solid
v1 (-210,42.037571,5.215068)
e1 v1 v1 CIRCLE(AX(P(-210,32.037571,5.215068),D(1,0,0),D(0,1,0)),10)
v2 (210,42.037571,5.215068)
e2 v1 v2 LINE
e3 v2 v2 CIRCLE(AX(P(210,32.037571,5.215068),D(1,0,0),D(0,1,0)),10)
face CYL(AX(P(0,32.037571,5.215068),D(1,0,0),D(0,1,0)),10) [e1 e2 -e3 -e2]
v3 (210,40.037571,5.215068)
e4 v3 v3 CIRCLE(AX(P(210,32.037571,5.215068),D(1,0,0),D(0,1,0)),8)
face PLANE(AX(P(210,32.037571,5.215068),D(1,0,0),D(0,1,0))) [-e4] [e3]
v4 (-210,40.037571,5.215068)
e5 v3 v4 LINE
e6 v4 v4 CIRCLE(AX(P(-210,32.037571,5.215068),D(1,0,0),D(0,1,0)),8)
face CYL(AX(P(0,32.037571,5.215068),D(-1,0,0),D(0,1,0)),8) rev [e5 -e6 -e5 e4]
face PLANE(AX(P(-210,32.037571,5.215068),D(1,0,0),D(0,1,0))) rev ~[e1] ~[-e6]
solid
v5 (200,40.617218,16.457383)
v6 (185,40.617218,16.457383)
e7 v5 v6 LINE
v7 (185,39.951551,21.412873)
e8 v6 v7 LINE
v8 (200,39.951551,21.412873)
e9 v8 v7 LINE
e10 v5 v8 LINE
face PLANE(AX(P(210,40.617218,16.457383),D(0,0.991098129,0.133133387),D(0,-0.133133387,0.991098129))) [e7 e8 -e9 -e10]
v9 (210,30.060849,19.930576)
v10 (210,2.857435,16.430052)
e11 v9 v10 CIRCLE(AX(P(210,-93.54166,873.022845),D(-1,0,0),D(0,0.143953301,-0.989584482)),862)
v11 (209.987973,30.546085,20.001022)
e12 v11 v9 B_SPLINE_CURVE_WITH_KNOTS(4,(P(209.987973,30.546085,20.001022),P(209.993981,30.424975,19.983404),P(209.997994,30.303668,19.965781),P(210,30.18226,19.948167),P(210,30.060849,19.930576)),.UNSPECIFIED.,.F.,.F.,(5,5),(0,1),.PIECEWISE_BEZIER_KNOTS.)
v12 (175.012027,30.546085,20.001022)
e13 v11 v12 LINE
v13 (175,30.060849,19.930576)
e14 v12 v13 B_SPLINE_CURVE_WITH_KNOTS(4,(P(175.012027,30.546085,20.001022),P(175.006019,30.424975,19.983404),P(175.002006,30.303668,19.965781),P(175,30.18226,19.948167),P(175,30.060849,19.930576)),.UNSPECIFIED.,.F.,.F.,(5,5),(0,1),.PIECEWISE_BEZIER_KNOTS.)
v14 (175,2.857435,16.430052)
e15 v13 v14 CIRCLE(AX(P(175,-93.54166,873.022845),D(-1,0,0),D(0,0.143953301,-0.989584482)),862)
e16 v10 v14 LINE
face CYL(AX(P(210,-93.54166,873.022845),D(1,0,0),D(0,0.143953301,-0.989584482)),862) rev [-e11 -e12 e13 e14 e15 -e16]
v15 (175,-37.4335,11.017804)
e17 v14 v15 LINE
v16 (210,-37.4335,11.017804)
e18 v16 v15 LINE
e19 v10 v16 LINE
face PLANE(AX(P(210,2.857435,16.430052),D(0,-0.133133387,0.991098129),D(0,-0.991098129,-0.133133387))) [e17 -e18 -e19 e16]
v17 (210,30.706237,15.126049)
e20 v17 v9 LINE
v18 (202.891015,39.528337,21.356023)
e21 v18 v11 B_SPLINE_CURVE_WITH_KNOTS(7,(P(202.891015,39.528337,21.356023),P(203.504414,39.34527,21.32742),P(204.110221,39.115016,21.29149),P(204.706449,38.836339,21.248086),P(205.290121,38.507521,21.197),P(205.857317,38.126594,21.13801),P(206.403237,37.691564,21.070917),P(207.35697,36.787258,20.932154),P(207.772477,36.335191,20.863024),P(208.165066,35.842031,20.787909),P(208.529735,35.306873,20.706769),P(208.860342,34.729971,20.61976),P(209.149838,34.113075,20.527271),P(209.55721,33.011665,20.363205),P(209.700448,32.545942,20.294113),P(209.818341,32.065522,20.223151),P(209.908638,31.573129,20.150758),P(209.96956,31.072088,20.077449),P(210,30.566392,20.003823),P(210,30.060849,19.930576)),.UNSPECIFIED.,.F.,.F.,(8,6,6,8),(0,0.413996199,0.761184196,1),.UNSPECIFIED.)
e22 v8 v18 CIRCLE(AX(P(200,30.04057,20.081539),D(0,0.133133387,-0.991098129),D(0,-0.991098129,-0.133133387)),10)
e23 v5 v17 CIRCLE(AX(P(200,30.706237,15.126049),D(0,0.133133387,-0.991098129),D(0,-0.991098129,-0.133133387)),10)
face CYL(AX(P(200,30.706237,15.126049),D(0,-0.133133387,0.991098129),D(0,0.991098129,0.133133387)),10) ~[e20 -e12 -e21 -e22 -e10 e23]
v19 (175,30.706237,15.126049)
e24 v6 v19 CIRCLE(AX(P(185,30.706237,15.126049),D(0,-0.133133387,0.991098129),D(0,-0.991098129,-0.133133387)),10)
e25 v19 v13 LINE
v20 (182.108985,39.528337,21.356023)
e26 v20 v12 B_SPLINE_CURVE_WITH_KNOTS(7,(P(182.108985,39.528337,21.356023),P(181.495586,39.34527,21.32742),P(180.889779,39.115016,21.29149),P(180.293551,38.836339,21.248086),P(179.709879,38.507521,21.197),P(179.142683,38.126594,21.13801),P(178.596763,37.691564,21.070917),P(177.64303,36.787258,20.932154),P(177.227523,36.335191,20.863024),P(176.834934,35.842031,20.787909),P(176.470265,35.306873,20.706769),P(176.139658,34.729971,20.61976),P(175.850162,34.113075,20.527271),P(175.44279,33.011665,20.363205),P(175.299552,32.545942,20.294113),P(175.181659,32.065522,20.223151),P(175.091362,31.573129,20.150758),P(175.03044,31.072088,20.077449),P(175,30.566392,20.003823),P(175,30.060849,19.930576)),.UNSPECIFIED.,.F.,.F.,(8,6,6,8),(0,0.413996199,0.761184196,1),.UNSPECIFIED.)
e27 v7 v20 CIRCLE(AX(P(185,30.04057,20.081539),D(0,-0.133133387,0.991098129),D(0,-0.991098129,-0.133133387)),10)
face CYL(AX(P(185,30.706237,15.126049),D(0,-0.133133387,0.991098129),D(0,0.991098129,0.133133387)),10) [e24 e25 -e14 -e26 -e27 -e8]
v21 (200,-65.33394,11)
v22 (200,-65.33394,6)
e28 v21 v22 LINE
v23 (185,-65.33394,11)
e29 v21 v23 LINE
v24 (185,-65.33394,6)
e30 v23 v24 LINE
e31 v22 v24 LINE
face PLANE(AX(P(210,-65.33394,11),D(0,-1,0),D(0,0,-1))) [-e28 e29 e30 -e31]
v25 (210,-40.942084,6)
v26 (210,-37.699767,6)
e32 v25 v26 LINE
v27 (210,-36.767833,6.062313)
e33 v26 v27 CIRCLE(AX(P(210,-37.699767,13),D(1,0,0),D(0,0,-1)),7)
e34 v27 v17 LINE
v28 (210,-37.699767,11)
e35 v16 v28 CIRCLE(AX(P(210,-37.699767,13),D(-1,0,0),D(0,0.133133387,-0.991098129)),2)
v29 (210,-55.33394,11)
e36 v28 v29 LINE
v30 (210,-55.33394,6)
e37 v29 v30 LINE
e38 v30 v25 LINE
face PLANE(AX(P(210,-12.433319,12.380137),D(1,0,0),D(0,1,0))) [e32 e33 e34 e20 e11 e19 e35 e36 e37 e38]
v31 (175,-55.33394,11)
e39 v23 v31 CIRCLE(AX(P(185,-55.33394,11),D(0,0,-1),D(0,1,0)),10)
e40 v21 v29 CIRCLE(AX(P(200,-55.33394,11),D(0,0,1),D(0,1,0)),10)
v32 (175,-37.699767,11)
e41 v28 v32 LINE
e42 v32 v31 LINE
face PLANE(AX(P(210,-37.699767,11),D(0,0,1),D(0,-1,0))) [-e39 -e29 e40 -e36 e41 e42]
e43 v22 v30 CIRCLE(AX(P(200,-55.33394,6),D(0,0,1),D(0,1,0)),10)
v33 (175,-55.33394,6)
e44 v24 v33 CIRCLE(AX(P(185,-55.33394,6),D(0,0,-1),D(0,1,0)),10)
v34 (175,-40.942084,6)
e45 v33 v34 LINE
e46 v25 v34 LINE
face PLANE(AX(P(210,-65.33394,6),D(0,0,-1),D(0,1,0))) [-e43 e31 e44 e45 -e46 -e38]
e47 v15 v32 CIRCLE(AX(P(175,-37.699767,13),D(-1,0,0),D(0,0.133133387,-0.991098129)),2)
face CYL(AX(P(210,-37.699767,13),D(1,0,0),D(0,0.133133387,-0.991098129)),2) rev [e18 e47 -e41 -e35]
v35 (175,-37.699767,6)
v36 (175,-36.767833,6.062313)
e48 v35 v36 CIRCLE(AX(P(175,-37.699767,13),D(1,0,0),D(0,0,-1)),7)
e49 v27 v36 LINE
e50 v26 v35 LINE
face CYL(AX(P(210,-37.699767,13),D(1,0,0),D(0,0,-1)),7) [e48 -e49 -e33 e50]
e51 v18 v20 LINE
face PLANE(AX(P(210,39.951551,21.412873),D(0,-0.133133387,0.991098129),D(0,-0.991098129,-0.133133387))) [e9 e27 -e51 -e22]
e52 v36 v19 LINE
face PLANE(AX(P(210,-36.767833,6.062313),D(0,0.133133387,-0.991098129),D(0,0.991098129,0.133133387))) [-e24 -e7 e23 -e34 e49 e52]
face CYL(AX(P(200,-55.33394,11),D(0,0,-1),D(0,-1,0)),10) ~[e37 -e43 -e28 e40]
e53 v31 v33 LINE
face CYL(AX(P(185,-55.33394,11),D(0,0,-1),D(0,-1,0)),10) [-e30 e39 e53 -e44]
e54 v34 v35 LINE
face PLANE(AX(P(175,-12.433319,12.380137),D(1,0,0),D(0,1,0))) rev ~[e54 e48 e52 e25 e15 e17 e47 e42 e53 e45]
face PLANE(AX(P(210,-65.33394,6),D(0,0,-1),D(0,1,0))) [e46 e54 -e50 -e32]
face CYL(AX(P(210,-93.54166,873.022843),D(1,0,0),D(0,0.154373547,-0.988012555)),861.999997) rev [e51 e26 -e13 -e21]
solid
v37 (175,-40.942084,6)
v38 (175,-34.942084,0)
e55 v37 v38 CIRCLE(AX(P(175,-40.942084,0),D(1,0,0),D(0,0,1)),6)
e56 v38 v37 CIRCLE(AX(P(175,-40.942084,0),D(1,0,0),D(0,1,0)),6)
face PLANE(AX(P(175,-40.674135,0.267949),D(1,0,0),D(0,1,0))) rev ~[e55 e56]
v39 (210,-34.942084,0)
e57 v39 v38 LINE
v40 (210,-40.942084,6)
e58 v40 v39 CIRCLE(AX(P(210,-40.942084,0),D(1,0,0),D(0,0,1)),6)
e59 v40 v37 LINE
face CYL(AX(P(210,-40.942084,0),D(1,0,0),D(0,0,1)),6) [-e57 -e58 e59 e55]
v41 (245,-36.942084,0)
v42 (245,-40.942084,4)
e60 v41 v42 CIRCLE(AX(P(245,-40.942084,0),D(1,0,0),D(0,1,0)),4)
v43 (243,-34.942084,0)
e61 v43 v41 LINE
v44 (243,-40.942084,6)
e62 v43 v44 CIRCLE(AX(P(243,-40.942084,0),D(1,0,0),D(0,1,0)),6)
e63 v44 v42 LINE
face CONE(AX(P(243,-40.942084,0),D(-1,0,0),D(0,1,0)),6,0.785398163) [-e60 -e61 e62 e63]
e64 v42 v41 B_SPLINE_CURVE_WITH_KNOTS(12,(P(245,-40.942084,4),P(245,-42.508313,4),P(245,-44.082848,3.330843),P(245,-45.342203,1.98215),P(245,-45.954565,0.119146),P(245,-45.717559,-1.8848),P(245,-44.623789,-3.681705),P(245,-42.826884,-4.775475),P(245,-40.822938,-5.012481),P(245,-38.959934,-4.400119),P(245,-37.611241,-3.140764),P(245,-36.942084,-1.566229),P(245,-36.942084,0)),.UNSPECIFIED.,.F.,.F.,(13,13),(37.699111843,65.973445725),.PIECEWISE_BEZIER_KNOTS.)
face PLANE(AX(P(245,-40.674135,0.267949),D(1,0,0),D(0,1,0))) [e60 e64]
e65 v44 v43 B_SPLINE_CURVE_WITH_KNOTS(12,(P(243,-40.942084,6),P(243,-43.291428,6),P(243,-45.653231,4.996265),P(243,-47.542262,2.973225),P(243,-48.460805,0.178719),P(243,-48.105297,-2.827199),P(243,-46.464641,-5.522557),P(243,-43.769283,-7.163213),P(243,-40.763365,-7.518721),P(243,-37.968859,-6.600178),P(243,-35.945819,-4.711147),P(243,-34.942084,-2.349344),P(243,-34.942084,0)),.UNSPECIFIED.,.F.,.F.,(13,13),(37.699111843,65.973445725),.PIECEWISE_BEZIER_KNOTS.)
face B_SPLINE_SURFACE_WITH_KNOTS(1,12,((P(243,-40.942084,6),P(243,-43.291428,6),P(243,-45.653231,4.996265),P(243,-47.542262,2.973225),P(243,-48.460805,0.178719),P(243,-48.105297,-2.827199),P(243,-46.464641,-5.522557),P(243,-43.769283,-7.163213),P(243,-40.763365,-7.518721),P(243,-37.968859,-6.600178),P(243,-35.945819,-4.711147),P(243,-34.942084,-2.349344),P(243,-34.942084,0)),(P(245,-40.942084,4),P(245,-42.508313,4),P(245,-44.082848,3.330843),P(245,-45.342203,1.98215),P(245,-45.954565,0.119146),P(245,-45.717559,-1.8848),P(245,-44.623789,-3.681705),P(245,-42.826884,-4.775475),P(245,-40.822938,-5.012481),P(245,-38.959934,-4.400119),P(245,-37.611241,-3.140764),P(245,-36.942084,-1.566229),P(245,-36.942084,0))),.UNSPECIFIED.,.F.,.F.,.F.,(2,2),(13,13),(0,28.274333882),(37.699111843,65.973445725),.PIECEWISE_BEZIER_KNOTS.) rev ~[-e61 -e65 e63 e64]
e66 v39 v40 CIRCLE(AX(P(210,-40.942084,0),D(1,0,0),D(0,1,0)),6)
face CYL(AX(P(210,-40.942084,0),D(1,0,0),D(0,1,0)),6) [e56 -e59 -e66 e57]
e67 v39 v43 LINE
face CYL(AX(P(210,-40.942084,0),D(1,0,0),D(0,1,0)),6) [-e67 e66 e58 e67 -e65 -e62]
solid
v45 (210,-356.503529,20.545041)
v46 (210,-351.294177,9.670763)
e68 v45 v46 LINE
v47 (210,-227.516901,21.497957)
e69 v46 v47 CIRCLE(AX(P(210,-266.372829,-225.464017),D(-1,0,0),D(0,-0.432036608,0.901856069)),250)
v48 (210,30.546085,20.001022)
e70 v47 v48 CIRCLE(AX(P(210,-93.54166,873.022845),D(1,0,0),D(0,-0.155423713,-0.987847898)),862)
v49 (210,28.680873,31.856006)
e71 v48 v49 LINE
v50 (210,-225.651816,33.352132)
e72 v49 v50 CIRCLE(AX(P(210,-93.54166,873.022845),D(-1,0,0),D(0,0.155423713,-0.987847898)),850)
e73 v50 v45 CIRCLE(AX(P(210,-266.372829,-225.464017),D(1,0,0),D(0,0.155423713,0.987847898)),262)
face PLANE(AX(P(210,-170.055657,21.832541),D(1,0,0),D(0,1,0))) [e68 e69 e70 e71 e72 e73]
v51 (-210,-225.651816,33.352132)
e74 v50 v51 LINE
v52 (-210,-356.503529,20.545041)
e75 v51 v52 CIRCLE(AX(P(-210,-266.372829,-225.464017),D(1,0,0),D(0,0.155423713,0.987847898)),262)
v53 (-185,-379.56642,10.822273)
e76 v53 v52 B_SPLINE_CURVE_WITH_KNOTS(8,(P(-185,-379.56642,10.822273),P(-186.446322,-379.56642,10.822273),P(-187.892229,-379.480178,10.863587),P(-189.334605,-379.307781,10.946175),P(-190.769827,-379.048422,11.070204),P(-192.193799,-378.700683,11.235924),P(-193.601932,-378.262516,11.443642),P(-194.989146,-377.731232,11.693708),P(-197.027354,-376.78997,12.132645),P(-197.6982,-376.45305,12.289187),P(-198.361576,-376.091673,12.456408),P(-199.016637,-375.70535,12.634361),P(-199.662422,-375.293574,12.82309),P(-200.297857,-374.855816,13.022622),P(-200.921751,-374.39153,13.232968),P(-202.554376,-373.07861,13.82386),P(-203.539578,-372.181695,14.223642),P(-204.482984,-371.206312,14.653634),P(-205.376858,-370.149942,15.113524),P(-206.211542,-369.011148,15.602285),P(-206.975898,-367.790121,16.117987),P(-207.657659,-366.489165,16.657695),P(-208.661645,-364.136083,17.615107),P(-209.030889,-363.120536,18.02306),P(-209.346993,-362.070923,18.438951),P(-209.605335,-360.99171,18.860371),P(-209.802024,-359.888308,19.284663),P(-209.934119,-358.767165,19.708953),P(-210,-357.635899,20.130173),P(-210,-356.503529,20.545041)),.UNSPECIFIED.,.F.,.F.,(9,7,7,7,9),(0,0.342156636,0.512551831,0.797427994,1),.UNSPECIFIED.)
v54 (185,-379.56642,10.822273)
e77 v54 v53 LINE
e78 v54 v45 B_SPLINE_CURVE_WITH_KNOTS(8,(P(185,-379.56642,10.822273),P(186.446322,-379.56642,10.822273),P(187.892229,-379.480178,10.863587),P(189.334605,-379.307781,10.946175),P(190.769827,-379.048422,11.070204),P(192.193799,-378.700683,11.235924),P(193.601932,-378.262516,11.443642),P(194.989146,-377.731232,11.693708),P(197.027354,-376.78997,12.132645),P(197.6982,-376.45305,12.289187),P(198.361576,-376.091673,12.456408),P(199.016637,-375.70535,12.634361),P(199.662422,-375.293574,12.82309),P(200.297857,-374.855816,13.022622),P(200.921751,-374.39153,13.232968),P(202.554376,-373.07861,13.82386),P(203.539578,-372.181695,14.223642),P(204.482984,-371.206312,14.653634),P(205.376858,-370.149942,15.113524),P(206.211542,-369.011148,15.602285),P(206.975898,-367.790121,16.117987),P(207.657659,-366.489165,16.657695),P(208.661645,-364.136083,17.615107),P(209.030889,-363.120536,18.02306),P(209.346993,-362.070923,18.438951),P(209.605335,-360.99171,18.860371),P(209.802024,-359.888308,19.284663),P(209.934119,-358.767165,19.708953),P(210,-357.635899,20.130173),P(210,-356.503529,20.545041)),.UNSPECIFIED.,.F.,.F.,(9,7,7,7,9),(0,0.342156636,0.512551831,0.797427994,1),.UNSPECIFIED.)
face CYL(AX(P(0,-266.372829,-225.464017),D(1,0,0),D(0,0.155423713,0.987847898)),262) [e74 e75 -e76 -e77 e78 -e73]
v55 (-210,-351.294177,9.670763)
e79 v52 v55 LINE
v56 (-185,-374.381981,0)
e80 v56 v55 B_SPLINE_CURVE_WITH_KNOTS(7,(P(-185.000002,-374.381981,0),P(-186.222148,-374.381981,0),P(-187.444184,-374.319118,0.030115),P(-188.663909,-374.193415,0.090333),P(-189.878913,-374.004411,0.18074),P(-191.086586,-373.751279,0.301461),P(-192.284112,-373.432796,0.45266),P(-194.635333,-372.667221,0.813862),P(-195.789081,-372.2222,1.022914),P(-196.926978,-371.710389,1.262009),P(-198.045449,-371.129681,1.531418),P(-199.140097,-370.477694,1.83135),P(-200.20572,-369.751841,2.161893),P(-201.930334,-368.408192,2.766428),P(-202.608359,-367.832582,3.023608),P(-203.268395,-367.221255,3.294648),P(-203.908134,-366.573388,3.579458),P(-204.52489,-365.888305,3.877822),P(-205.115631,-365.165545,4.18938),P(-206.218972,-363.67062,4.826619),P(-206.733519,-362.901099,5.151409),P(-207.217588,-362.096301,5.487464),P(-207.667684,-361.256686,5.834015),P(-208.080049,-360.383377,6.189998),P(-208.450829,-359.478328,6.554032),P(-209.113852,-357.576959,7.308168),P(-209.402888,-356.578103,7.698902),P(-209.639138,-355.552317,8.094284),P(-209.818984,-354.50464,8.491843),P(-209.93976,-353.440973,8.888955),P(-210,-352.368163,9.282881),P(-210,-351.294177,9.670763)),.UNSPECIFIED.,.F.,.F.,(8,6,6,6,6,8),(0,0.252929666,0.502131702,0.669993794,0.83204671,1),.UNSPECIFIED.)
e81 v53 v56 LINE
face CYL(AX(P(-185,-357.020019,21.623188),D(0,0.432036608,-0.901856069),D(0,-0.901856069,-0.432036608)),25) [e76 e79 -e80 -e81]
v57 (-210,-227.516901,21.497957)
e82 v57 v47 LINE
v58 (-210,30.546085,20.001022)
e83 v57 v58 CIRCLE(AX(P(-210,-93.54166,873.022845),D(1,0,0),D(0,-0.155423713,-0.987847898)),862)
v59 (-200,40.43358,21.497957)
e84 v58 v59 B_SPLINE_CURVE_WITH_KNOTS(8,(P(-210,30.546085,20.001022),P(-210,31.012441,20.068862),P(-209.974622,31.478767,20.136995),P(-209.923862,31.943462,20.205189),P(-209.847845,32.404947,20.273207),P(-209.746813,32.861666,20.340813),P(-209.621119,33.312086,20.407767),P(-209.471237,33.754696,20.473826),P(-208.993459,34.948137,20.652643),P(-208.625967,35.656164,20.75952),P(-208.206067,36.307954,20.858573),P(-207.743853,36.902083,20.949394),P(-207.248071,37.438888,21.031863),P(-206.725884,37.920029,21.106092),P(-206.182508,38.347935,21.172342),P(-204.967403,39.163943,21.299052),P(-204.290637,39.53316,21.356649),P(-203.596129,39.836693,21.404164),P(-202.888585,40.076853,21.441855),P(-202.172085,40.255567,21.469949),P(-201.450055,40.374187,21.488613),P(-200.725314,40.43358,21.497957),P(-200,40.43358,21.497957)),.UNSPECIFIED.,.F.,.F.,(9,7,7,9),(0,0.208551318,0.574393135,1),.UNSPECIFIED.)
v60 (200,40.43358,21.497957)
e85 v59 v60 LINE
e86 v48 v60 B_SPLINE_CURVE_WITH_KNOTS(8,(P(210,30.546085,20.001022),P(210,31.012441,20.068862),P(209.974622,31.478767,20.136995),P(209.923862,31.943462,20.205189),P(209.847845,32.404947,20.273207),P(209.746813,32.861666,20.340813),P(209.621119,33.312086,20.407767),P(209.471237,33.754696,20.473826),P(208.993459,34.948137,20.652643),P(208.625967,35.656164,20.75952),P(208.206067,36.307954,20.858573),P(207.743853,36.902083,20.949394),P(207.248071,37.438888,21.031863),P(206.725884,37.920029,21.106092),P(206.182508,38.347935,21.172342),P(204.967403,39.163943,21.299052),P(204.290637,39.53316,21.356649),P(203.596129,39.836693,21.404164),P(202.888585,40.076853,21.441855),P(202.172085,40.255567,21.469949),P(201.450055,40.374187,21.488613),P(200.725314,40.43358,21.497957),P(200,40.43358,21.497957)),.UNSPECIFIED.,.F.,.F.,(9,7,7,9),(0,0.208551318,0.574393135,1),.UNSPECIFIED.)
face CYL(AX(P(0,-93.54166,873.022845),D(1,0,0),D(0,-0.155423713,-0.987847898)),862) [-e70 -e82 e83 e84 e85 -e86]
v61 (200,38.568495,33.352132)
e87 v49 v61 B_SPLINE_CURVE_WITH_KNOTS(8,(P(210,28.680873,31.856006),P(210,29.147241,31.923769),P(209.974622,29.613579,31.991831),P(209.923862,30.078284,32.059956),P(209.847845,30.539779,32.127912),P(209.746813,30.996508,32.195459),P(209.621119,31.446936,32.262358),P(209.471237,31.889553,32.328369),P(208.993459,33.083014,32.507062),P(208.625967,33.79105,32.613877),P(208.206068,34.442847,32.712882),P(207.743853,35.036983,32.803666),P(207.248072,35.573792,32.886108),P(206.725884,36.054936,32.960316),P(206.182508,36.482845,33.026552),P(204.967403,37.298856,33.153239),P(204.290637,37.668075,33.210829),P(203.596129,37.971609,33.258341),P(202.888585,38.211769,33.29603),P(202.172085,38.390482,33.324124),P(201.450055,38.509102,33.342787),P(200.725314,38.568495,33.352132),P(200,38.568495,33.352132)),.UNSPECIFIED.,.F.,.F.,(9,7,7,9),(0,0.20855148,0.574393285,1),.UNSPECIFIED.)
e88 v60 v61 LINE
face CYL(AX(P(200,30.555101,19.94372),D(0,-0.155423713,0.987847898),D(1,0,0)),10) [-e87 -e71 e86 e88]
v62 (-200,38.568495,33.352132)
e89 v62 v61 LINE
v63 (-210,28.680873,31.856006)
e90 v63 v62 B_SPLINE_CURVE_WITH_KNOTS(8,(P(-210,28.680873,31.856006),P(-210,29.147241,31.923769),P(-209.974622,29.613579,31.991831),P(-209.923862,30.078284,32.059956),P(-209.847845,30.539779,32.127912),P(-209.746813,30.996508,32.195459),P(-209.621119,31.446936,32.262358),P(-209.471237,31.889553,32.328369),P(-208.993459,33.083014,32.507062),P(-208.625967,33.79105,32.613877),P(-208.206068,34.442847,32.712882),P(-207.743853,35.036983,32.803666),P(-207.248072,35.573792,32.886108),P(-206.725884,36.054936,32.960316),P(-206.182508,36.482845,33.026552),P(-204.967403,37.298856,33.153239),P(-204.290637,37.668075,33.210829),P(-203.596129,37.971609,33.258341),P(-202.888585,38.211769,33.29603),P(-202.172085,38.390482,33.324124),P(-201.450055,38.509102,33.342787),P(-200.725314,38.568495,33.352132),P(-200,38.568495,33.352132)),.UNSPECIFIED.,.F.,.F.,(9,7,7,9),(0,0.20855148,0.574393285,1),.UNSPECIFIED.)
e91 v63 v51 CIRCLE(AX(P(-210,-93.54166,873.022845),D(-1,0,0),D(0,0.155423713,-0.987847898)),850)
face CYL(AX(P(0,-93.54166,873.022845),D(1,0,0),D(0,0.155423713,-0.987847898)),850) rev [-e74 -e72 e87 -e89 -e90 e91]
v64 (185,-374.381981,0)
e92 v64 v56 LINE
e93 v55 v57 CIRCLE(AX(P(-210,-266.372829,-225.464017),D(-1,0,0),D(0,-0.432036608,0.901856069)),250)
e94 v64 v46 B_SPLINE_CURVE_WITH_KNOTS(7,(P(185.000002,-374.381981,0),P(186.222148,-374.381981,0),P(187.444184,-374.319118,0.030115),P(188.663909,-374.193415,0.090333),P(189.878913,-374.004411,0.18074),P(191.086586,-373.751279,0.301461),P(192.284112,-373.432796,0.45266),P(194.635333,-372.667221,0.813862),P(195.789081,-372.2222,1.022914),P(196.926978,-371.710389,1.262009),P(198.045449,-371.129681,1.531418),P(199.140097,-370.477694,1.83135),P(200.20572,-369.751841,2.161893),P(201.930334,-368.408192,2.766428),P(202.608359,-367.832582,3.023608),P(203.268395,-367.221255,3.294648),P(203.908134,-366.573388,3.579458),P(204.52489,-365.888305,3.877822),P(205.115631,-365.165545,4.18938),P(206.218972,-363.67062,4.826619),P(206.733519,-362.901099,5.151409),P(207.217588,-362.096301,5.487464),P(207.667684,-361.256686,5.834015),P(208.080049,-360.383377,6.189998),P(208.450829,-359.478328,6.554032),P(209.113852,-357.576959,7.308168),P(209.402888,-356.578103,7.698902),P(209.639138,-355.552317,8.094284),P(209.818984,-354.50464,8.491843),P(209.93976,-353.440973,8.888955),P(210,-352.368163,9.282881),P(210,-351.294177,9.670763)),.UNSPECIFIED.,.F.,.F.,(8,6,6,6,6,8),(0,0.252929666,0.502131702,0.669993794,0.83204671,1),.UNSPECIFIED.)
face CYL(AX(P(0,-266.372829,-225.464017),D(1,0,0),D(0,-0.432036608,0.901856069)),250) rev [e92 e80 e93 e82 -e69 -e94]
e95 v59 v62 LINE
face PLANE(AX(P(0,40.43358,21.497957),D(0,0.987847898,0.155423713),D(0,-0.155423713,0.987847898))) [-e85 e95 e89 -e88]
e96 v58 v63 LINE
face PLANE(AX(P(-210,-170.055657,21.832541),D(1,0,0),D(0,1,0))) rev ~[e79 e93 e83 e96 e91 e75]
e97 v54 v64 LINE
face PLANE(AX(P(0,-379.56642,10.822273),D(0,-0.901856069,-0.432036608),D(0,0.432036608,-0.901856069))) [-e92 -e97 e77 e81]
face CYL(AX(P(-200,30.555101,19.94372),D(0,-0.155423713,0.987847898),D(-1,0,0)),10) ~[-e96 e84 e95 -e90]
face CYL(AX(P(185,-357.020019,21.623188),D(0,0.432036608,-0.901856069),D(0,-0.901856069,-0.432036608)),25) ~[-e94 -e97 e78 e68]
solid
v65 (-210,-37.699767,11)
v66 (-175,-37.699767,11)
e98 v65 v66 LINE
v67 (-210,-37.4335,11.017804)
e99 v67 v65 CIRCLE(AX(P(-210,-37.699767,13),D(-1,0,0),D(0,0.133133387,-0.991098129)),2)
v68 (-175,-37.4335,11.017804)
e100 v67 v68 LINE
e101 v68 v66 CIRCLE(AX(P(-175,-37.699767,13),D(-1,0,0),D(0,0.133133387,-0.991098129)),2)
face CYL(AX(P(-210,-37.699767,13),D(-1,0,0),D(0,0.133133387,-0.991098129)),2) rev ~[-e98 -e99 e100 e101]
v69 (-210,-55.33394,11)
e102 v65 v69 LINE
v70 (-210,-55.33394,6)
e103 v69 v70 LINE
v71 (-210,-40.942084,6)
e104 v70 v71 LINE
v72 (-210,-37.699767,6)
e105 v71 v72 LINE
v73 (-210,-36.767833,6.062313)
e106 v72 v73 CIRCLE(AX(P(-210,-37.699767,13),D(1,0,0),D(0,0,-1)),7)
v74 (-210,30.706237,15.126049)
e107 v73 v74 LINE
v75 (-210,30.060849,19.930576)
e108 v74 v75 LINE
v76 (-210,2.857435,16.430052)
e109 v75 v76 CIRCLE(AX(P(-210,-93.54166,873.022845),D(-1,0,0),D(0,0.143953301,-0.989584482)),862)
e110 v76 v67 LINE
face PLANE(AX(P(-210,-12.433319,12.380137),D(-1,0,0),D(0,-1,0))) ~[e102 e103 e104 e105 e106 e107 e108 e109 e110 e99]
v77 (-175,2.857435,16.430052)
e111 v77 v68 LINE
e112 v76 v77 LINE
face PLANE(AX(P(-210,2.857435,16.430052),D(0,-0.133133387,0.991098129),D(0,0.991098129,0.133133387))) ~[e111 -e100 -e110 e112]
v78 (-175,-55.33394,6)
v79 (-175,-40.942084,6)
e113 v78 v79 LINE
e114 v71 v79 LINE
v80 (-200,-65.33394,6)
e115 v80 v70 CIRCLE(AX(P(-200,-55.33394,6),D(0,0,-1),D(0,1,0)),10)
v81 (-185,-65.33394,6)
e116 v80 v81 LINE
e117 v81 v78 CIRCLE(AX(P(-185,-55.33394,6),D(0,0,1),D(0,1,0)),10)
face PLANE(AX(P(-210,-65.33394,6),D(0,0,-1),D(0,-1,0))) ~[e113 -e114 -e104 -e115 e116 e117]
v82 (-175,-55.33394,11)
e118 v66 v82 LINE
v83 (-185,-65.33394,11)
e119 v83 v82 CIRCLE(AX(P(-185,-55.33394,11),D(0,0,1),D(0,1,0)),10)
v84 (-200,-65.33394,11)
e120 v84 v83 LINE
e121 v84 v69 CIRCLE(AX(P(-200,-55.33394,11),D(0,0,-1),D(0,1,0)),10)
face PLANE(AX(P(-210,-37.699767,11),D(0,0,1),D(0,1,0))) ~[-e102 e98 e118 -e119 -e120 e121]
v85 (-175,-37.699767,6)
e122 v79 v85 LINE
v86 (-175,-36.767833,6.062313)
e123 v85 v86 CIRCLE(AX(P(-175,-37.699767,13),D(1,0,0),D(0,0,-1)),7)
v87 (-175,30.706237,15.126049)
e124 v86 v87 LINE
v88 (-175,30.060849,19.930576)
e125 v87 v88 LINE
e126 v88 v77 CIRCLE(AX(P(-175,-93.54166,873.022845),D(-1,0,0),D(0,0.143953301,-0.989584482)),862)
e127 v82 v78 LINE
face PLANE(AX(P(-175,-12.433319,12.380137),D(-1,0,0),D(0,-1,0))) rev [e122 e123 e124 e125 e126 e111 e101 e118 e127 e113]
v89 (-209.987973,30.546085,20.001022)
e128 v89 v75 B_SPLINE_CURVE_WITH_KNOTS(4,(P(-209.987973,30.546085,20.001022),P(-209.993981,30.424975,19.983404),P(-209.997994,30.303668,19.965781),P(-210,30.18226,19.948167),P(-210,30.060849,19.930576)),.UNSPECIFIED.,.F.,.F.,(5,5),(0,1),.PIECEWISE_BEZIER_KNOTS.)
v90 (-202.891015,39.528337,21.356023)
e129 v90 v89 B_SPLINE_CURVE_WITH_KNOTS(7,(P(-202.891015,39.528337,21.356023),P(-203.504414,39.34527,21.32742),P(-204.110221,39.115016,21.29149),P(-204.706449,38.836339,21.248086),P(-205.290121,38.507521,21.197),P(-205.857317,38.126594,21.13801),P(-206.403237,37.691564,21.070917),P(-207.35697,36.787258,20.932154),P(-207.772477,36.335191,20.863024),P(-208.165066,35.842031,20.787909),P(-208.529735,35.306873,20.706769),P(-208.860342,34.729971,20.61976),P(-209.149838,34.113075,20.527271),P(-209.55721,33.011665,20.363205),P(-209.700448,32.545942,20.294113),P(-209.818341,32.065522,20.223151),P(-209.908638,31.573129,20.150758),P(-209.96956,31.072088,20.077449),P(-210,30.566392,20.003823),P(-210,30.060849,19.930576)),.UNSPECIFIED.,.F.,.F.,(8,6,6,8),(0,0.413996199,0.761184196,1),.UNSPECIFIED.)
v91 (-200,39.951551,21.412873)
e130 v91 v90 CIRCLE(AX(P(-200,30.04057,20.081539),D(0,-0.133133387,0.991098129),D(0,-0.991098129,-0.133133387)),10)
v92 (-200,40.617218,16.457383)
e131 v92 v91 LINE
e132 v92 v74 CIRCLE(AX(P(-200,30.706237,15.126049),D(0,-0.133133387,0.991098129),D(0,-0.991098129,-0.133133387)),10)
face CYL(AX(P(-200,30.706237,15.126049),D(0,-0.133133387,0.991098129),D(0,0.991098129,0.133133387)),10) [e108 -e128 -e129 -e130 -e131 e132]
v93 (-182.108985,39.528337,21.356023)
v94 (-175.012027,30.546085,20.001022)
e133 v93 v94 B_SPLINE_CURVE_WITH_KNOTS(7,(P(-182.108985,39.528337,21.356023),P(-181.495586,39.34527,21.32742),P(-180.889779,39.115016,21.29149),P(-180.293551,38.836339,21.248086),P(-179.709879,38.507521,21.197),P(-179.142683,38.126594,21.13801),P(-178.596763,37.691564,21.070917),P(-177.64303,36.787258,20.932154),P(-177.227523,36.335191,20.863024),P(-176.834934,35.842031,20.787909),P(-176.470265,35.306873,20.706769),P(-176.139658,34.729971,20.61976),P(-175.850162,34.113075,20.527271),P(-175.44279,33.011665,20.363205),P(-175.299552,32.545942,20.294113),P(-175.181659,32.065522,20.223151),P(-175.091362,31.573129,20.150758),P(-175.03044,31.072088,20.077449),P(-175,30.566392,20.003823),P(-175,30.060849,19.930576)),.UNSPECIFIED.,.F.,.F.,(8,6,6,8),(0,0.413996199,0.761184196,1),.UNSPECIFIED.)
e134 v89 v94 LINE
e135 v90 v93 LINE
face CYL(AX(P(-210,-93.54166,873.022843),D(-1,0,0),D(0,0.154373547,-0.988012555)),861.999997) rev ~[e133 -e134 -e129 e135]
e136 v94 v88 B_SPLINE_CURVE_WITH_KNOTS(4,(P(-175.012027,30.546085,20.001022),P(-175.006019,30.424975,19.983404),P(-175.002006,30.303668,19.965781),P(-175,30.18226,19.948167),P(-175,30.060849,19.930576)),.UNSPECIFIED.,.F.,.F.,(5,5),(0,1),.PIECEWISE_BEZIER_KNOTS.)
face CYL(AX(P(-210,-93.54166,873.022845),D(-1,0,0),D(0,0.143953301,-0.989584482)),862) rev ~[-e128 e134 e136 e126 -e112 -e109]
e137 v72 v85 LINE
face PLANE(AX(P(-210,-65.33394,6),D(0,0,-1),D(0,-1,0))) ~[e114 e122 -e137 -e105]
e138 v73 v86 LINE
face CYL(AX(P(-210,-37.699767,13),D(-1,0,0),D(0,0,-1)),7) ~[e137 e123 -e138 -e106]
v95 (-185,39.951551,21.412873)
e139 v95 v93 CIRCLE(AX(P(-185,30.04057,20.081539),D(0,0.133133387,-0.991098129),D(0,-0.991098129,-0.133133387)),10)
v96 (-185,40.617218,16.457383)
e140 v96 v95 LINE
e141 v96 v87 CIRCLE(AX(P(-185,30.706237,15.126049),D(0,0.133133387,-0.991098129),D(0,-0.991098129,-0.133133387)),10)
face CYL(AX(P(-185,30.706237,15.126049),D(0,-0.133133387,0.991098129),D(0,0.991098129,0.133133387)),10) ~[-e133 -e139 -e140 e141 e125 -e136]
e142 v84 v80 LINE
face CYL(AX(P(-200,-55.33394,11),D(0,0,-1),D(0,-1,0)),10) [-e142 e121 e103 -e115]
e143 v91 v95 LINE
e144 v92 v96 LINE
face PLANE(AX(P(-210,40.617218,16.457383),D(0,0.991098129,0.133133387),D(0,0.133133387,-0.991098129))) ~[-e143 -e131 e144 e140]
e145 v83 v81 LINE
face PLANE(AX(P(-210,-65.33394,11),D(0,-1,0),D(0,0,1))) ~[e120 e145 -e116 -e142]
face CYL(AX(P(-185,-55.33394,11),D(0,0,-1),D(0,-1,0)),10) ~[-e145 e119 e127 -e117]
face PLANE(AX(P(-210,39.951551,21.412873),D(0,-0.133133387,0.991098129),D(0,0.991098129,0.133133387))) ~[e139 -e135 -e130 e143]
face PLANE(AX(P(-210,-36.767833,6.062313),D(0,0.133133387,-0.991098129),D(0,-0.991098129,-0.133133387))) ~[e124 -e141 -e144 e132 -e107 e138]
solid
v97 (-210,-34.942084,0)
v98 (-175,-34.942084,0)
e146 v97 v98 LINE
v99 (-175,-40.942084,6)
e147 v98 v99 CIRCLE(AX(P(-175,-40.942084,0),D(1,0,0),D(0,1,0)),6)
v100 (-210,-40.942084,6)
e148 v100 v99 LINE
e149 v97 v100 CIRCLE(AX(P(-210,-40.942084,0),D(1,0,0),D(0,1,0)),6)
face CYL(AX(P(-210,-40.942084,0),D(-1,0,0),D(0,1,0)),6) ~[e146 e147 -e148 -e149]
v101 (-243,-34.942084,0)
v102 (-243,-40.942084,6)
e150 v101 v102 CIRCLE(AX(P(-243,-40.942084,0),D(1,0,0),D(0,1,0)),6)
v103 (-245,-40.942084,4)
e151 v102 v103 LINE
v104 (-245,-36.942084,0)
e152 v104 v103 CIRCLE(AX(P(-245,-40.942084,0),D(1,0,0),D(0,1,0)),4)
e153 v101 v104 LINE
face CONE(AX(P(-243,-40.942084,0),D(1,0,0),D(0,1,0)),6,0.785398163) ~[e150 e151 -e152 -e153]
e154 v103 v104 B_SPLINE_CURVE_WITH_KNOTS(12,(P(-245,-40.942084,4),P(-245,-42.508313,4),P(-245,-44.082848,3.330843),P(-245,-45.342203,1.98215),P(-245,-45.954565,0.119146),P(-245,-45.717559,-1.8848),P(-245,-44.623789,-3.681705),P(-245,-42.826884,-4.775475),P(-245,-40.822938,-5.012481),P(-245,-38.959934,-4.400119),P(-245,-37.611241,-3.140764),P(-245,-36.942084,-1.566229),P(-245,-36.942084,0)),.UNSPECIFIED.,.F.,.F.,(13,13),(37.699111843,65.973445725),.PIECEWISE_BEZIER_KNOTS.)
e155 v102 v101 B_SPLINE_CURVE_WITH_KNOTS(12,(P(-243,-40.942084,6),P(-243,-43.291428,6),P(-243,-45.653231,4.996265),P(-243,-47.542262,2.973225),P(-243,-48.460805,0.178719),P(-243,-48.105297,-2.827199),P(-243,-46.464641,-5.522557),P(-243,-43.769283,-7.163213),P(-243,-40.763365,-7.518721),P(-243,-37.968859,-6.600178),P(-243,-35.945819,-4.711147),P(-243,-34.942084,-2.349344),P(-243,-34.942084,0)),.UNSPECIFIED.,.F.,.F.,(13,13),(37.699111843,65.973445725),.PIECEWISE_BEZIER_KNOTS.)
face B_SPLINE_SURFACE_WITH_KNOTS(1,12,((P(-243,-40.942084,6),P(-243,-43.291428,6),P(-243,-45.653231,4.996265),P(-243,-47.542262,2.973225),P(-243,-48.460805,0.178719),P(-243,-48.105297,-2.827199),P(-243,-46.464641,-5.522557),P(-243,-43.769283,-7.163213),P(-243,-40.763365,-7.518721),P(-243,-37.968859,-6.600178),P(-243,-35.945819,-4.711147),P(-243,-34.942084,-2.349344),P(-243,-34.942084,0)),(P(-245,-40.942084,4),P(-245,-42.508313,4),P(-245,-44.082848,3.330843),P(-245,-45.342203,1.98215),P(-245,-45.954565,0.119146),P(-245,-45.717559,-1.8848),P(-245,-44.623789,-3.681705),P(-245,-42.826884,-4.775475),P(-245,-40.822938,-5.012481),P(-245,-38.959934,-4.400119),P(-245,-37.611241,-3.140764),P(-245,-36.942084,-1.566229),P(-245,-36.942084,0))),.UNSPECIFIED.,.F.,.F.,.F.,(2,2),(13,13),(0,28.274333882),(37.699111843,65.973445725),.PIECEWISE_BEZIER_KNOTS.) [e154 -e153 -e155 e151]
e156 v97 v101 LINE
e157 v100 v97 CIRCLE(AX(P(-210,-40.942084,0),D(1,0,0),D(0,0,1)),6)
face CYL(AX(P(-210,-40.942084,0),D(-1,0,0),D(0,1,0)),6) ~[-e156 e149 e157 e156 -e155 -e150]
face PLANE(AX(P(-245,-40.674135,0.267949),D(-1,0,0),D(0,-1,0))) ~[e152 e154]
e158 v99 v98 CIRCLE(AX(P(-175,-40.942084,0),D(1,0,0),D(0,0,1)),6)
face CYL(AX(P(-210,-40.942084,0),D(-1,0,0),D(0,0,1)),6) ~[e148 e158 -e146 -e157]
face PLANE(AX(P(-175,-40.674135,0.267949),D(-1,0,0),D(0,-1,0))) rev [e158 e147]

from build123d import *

# Parameters (mm, degrees)
F1_DEPTH  = 210
F3_R      = 25
F4_R      = 10
F5_R      = 10
F5_R_2    = 8
F6_DEPTH  = 210
F8_DEPTH  = 35
F9_R      = 10
F10_DEPTH = 35
F11_SIZE  = 2


with BuildPart() as f1:
    # F0 (on Right) → F1 (new body, symmetric)
    with BuildSketch(Plane.YZ):
        with BuildLine():
            ThreePointArc((-374.3819809216, 0), (-302.5817039416, 21.8999198492), (-227.5169006722, 21.4979572801))
            ThreePointArc((-227.5169006722, 21.4979572801), (-93.5416604475, 11.0228453525), (40.4335797772, 21.4979572801))
            Line((40.4335797772, 21.4979572801), (38.5684952265, 33.352132056))
            ThreePointArc((38.5684952265, 33.352132056), (-93.5416604475, 23.0228453525), (-225.6518161215, 33.352132056))
            ThreePointArc((-225.6518161215, 33.352132056), (-304.3197299479, 33.7733888284), (-379.5664202228, 10.8222728265))
            Line((-379.5664202228, 10.8222728265), (-374.3819809216, 0))
        make_face()
    extrude(amount=F1_DEPTH, both=True)

    # F3
    f3_edges = [f1.edges().sort_by_distance(p)[0] for p in [
        (210, -376.974201, 5.411136),
        (-210, -376.974201, 5.411136),
    ]]
    fillet(f3_edges, radius=F3_R)

    # F4
    f4_edges = [f1.edges().sort_by_distance(p)[0] for p in [
        (210, 39.501038, 27.425045),
        (-210, 39.501038, 27.425045),
    ]]
    fillet(f4_edges, radius=F4_R)


with BuildPart() as f6:
    # F5 (on Right) → F6 (new body, symmetric)
    with BuildSketch(Plane.YZ):
        with Locations((32.0375707172, 5.2150675053)):
            Circle(F5_R)
        with Locations((32.0375707172, 5.2150675053)):
            Circle(F5_R_2, mode=Mode.SUBTRACT)
    extrude(amount=F6_DEPTH, both=True)


with BuildPart() as f8:
    # F7 (on face) → F8 (new body)
    with BuildSketch(Plane.YZ.offset(210)):
        with BuildLine():
            Line((40.6172181352, 16.4573826665), (39.9515511994, 21.4128733113))
            Line((39.9515511994, 21.4128733113), (39.528336846, 21.3560232793))
            ThreePointArc((39.528336846, 21.3560232793), (35.038995934, 20.6666904474), (30.5460851973, 20.0010218445))
            ThreePointArc((30.5460851973, 20.0010218445), (16.7162180368, 18.10343381), (2.8574353356, 16.4300515863))
            Line((2.8574353356, 16.4300515863), (-37.4335001414, 11.0178037421))
            ThreePointArc((-37.4335001414, 11.0178037421), (-37.5663362518, 11.0044558993), (-37.6997669157, 11))
            Line((-37.6997669157, 11), (-65.3339400887, 11))
            Line((-65.3339400887, 11), (-65.3339400887, 6))
            Line((-65.3339400887, 6), (-40.9420840442, 6))
            Line((-40.9420840442, 6), (-37.6997669157, 6))
            ThreePointArc((-37.6997669157, 6), (-37.2327595919, 6.0155956475), (-36.7678332056, 6.0623130973))
            Line((-36.7678332056, 6.0623130973), (40.6172181352, 16.4573826665))
        make_face()
    extrude(amount=-F8_DEPTH)

    # F9
    f9_edges = [f8.edges().sort_by_distance(p)[0] for p in [
        (210, -65.33394, 8.5),
        (175, -65.33394, 8.5),
        (210, 40.284385, 18.935128),
        (175, 40.284385, 18.935128),
    ]]
    fillet(f9_edges, radius=F9_R)

    # F7 (on face) → F10 (join, symmetric)
    with BuildSketch(Plane.YZ.offset(210)):
        with BuildLine():
            ThreePointArc((-34.9420840442, 0), (-36.6994433571, 4.2426406871), (-40.9420840442, 6))
            ThreePointArc((-40.9420840442, 6), (-45.1847247313, -4.2426406871), (-34.9420840442, 0))
        make_face()
    extrude(amount=F10_DEPTH, both=True)

    # F11
    f11_edges = [f8.edges().sort_by_distance(p)[0] for p in [
        (245, -45.184725, -4.242641),
        (245, -36.699443, 4.242641),
    ]]
    chamfer(f11_edges, length=F11_SIZE)


with BuildPart() as f12_1:
    # F12: instance of F8
    add(f8.part.mirror(Plane.YZ))


solid = Compound([f1.part, f6.part, f8.part, f12_1.part])
